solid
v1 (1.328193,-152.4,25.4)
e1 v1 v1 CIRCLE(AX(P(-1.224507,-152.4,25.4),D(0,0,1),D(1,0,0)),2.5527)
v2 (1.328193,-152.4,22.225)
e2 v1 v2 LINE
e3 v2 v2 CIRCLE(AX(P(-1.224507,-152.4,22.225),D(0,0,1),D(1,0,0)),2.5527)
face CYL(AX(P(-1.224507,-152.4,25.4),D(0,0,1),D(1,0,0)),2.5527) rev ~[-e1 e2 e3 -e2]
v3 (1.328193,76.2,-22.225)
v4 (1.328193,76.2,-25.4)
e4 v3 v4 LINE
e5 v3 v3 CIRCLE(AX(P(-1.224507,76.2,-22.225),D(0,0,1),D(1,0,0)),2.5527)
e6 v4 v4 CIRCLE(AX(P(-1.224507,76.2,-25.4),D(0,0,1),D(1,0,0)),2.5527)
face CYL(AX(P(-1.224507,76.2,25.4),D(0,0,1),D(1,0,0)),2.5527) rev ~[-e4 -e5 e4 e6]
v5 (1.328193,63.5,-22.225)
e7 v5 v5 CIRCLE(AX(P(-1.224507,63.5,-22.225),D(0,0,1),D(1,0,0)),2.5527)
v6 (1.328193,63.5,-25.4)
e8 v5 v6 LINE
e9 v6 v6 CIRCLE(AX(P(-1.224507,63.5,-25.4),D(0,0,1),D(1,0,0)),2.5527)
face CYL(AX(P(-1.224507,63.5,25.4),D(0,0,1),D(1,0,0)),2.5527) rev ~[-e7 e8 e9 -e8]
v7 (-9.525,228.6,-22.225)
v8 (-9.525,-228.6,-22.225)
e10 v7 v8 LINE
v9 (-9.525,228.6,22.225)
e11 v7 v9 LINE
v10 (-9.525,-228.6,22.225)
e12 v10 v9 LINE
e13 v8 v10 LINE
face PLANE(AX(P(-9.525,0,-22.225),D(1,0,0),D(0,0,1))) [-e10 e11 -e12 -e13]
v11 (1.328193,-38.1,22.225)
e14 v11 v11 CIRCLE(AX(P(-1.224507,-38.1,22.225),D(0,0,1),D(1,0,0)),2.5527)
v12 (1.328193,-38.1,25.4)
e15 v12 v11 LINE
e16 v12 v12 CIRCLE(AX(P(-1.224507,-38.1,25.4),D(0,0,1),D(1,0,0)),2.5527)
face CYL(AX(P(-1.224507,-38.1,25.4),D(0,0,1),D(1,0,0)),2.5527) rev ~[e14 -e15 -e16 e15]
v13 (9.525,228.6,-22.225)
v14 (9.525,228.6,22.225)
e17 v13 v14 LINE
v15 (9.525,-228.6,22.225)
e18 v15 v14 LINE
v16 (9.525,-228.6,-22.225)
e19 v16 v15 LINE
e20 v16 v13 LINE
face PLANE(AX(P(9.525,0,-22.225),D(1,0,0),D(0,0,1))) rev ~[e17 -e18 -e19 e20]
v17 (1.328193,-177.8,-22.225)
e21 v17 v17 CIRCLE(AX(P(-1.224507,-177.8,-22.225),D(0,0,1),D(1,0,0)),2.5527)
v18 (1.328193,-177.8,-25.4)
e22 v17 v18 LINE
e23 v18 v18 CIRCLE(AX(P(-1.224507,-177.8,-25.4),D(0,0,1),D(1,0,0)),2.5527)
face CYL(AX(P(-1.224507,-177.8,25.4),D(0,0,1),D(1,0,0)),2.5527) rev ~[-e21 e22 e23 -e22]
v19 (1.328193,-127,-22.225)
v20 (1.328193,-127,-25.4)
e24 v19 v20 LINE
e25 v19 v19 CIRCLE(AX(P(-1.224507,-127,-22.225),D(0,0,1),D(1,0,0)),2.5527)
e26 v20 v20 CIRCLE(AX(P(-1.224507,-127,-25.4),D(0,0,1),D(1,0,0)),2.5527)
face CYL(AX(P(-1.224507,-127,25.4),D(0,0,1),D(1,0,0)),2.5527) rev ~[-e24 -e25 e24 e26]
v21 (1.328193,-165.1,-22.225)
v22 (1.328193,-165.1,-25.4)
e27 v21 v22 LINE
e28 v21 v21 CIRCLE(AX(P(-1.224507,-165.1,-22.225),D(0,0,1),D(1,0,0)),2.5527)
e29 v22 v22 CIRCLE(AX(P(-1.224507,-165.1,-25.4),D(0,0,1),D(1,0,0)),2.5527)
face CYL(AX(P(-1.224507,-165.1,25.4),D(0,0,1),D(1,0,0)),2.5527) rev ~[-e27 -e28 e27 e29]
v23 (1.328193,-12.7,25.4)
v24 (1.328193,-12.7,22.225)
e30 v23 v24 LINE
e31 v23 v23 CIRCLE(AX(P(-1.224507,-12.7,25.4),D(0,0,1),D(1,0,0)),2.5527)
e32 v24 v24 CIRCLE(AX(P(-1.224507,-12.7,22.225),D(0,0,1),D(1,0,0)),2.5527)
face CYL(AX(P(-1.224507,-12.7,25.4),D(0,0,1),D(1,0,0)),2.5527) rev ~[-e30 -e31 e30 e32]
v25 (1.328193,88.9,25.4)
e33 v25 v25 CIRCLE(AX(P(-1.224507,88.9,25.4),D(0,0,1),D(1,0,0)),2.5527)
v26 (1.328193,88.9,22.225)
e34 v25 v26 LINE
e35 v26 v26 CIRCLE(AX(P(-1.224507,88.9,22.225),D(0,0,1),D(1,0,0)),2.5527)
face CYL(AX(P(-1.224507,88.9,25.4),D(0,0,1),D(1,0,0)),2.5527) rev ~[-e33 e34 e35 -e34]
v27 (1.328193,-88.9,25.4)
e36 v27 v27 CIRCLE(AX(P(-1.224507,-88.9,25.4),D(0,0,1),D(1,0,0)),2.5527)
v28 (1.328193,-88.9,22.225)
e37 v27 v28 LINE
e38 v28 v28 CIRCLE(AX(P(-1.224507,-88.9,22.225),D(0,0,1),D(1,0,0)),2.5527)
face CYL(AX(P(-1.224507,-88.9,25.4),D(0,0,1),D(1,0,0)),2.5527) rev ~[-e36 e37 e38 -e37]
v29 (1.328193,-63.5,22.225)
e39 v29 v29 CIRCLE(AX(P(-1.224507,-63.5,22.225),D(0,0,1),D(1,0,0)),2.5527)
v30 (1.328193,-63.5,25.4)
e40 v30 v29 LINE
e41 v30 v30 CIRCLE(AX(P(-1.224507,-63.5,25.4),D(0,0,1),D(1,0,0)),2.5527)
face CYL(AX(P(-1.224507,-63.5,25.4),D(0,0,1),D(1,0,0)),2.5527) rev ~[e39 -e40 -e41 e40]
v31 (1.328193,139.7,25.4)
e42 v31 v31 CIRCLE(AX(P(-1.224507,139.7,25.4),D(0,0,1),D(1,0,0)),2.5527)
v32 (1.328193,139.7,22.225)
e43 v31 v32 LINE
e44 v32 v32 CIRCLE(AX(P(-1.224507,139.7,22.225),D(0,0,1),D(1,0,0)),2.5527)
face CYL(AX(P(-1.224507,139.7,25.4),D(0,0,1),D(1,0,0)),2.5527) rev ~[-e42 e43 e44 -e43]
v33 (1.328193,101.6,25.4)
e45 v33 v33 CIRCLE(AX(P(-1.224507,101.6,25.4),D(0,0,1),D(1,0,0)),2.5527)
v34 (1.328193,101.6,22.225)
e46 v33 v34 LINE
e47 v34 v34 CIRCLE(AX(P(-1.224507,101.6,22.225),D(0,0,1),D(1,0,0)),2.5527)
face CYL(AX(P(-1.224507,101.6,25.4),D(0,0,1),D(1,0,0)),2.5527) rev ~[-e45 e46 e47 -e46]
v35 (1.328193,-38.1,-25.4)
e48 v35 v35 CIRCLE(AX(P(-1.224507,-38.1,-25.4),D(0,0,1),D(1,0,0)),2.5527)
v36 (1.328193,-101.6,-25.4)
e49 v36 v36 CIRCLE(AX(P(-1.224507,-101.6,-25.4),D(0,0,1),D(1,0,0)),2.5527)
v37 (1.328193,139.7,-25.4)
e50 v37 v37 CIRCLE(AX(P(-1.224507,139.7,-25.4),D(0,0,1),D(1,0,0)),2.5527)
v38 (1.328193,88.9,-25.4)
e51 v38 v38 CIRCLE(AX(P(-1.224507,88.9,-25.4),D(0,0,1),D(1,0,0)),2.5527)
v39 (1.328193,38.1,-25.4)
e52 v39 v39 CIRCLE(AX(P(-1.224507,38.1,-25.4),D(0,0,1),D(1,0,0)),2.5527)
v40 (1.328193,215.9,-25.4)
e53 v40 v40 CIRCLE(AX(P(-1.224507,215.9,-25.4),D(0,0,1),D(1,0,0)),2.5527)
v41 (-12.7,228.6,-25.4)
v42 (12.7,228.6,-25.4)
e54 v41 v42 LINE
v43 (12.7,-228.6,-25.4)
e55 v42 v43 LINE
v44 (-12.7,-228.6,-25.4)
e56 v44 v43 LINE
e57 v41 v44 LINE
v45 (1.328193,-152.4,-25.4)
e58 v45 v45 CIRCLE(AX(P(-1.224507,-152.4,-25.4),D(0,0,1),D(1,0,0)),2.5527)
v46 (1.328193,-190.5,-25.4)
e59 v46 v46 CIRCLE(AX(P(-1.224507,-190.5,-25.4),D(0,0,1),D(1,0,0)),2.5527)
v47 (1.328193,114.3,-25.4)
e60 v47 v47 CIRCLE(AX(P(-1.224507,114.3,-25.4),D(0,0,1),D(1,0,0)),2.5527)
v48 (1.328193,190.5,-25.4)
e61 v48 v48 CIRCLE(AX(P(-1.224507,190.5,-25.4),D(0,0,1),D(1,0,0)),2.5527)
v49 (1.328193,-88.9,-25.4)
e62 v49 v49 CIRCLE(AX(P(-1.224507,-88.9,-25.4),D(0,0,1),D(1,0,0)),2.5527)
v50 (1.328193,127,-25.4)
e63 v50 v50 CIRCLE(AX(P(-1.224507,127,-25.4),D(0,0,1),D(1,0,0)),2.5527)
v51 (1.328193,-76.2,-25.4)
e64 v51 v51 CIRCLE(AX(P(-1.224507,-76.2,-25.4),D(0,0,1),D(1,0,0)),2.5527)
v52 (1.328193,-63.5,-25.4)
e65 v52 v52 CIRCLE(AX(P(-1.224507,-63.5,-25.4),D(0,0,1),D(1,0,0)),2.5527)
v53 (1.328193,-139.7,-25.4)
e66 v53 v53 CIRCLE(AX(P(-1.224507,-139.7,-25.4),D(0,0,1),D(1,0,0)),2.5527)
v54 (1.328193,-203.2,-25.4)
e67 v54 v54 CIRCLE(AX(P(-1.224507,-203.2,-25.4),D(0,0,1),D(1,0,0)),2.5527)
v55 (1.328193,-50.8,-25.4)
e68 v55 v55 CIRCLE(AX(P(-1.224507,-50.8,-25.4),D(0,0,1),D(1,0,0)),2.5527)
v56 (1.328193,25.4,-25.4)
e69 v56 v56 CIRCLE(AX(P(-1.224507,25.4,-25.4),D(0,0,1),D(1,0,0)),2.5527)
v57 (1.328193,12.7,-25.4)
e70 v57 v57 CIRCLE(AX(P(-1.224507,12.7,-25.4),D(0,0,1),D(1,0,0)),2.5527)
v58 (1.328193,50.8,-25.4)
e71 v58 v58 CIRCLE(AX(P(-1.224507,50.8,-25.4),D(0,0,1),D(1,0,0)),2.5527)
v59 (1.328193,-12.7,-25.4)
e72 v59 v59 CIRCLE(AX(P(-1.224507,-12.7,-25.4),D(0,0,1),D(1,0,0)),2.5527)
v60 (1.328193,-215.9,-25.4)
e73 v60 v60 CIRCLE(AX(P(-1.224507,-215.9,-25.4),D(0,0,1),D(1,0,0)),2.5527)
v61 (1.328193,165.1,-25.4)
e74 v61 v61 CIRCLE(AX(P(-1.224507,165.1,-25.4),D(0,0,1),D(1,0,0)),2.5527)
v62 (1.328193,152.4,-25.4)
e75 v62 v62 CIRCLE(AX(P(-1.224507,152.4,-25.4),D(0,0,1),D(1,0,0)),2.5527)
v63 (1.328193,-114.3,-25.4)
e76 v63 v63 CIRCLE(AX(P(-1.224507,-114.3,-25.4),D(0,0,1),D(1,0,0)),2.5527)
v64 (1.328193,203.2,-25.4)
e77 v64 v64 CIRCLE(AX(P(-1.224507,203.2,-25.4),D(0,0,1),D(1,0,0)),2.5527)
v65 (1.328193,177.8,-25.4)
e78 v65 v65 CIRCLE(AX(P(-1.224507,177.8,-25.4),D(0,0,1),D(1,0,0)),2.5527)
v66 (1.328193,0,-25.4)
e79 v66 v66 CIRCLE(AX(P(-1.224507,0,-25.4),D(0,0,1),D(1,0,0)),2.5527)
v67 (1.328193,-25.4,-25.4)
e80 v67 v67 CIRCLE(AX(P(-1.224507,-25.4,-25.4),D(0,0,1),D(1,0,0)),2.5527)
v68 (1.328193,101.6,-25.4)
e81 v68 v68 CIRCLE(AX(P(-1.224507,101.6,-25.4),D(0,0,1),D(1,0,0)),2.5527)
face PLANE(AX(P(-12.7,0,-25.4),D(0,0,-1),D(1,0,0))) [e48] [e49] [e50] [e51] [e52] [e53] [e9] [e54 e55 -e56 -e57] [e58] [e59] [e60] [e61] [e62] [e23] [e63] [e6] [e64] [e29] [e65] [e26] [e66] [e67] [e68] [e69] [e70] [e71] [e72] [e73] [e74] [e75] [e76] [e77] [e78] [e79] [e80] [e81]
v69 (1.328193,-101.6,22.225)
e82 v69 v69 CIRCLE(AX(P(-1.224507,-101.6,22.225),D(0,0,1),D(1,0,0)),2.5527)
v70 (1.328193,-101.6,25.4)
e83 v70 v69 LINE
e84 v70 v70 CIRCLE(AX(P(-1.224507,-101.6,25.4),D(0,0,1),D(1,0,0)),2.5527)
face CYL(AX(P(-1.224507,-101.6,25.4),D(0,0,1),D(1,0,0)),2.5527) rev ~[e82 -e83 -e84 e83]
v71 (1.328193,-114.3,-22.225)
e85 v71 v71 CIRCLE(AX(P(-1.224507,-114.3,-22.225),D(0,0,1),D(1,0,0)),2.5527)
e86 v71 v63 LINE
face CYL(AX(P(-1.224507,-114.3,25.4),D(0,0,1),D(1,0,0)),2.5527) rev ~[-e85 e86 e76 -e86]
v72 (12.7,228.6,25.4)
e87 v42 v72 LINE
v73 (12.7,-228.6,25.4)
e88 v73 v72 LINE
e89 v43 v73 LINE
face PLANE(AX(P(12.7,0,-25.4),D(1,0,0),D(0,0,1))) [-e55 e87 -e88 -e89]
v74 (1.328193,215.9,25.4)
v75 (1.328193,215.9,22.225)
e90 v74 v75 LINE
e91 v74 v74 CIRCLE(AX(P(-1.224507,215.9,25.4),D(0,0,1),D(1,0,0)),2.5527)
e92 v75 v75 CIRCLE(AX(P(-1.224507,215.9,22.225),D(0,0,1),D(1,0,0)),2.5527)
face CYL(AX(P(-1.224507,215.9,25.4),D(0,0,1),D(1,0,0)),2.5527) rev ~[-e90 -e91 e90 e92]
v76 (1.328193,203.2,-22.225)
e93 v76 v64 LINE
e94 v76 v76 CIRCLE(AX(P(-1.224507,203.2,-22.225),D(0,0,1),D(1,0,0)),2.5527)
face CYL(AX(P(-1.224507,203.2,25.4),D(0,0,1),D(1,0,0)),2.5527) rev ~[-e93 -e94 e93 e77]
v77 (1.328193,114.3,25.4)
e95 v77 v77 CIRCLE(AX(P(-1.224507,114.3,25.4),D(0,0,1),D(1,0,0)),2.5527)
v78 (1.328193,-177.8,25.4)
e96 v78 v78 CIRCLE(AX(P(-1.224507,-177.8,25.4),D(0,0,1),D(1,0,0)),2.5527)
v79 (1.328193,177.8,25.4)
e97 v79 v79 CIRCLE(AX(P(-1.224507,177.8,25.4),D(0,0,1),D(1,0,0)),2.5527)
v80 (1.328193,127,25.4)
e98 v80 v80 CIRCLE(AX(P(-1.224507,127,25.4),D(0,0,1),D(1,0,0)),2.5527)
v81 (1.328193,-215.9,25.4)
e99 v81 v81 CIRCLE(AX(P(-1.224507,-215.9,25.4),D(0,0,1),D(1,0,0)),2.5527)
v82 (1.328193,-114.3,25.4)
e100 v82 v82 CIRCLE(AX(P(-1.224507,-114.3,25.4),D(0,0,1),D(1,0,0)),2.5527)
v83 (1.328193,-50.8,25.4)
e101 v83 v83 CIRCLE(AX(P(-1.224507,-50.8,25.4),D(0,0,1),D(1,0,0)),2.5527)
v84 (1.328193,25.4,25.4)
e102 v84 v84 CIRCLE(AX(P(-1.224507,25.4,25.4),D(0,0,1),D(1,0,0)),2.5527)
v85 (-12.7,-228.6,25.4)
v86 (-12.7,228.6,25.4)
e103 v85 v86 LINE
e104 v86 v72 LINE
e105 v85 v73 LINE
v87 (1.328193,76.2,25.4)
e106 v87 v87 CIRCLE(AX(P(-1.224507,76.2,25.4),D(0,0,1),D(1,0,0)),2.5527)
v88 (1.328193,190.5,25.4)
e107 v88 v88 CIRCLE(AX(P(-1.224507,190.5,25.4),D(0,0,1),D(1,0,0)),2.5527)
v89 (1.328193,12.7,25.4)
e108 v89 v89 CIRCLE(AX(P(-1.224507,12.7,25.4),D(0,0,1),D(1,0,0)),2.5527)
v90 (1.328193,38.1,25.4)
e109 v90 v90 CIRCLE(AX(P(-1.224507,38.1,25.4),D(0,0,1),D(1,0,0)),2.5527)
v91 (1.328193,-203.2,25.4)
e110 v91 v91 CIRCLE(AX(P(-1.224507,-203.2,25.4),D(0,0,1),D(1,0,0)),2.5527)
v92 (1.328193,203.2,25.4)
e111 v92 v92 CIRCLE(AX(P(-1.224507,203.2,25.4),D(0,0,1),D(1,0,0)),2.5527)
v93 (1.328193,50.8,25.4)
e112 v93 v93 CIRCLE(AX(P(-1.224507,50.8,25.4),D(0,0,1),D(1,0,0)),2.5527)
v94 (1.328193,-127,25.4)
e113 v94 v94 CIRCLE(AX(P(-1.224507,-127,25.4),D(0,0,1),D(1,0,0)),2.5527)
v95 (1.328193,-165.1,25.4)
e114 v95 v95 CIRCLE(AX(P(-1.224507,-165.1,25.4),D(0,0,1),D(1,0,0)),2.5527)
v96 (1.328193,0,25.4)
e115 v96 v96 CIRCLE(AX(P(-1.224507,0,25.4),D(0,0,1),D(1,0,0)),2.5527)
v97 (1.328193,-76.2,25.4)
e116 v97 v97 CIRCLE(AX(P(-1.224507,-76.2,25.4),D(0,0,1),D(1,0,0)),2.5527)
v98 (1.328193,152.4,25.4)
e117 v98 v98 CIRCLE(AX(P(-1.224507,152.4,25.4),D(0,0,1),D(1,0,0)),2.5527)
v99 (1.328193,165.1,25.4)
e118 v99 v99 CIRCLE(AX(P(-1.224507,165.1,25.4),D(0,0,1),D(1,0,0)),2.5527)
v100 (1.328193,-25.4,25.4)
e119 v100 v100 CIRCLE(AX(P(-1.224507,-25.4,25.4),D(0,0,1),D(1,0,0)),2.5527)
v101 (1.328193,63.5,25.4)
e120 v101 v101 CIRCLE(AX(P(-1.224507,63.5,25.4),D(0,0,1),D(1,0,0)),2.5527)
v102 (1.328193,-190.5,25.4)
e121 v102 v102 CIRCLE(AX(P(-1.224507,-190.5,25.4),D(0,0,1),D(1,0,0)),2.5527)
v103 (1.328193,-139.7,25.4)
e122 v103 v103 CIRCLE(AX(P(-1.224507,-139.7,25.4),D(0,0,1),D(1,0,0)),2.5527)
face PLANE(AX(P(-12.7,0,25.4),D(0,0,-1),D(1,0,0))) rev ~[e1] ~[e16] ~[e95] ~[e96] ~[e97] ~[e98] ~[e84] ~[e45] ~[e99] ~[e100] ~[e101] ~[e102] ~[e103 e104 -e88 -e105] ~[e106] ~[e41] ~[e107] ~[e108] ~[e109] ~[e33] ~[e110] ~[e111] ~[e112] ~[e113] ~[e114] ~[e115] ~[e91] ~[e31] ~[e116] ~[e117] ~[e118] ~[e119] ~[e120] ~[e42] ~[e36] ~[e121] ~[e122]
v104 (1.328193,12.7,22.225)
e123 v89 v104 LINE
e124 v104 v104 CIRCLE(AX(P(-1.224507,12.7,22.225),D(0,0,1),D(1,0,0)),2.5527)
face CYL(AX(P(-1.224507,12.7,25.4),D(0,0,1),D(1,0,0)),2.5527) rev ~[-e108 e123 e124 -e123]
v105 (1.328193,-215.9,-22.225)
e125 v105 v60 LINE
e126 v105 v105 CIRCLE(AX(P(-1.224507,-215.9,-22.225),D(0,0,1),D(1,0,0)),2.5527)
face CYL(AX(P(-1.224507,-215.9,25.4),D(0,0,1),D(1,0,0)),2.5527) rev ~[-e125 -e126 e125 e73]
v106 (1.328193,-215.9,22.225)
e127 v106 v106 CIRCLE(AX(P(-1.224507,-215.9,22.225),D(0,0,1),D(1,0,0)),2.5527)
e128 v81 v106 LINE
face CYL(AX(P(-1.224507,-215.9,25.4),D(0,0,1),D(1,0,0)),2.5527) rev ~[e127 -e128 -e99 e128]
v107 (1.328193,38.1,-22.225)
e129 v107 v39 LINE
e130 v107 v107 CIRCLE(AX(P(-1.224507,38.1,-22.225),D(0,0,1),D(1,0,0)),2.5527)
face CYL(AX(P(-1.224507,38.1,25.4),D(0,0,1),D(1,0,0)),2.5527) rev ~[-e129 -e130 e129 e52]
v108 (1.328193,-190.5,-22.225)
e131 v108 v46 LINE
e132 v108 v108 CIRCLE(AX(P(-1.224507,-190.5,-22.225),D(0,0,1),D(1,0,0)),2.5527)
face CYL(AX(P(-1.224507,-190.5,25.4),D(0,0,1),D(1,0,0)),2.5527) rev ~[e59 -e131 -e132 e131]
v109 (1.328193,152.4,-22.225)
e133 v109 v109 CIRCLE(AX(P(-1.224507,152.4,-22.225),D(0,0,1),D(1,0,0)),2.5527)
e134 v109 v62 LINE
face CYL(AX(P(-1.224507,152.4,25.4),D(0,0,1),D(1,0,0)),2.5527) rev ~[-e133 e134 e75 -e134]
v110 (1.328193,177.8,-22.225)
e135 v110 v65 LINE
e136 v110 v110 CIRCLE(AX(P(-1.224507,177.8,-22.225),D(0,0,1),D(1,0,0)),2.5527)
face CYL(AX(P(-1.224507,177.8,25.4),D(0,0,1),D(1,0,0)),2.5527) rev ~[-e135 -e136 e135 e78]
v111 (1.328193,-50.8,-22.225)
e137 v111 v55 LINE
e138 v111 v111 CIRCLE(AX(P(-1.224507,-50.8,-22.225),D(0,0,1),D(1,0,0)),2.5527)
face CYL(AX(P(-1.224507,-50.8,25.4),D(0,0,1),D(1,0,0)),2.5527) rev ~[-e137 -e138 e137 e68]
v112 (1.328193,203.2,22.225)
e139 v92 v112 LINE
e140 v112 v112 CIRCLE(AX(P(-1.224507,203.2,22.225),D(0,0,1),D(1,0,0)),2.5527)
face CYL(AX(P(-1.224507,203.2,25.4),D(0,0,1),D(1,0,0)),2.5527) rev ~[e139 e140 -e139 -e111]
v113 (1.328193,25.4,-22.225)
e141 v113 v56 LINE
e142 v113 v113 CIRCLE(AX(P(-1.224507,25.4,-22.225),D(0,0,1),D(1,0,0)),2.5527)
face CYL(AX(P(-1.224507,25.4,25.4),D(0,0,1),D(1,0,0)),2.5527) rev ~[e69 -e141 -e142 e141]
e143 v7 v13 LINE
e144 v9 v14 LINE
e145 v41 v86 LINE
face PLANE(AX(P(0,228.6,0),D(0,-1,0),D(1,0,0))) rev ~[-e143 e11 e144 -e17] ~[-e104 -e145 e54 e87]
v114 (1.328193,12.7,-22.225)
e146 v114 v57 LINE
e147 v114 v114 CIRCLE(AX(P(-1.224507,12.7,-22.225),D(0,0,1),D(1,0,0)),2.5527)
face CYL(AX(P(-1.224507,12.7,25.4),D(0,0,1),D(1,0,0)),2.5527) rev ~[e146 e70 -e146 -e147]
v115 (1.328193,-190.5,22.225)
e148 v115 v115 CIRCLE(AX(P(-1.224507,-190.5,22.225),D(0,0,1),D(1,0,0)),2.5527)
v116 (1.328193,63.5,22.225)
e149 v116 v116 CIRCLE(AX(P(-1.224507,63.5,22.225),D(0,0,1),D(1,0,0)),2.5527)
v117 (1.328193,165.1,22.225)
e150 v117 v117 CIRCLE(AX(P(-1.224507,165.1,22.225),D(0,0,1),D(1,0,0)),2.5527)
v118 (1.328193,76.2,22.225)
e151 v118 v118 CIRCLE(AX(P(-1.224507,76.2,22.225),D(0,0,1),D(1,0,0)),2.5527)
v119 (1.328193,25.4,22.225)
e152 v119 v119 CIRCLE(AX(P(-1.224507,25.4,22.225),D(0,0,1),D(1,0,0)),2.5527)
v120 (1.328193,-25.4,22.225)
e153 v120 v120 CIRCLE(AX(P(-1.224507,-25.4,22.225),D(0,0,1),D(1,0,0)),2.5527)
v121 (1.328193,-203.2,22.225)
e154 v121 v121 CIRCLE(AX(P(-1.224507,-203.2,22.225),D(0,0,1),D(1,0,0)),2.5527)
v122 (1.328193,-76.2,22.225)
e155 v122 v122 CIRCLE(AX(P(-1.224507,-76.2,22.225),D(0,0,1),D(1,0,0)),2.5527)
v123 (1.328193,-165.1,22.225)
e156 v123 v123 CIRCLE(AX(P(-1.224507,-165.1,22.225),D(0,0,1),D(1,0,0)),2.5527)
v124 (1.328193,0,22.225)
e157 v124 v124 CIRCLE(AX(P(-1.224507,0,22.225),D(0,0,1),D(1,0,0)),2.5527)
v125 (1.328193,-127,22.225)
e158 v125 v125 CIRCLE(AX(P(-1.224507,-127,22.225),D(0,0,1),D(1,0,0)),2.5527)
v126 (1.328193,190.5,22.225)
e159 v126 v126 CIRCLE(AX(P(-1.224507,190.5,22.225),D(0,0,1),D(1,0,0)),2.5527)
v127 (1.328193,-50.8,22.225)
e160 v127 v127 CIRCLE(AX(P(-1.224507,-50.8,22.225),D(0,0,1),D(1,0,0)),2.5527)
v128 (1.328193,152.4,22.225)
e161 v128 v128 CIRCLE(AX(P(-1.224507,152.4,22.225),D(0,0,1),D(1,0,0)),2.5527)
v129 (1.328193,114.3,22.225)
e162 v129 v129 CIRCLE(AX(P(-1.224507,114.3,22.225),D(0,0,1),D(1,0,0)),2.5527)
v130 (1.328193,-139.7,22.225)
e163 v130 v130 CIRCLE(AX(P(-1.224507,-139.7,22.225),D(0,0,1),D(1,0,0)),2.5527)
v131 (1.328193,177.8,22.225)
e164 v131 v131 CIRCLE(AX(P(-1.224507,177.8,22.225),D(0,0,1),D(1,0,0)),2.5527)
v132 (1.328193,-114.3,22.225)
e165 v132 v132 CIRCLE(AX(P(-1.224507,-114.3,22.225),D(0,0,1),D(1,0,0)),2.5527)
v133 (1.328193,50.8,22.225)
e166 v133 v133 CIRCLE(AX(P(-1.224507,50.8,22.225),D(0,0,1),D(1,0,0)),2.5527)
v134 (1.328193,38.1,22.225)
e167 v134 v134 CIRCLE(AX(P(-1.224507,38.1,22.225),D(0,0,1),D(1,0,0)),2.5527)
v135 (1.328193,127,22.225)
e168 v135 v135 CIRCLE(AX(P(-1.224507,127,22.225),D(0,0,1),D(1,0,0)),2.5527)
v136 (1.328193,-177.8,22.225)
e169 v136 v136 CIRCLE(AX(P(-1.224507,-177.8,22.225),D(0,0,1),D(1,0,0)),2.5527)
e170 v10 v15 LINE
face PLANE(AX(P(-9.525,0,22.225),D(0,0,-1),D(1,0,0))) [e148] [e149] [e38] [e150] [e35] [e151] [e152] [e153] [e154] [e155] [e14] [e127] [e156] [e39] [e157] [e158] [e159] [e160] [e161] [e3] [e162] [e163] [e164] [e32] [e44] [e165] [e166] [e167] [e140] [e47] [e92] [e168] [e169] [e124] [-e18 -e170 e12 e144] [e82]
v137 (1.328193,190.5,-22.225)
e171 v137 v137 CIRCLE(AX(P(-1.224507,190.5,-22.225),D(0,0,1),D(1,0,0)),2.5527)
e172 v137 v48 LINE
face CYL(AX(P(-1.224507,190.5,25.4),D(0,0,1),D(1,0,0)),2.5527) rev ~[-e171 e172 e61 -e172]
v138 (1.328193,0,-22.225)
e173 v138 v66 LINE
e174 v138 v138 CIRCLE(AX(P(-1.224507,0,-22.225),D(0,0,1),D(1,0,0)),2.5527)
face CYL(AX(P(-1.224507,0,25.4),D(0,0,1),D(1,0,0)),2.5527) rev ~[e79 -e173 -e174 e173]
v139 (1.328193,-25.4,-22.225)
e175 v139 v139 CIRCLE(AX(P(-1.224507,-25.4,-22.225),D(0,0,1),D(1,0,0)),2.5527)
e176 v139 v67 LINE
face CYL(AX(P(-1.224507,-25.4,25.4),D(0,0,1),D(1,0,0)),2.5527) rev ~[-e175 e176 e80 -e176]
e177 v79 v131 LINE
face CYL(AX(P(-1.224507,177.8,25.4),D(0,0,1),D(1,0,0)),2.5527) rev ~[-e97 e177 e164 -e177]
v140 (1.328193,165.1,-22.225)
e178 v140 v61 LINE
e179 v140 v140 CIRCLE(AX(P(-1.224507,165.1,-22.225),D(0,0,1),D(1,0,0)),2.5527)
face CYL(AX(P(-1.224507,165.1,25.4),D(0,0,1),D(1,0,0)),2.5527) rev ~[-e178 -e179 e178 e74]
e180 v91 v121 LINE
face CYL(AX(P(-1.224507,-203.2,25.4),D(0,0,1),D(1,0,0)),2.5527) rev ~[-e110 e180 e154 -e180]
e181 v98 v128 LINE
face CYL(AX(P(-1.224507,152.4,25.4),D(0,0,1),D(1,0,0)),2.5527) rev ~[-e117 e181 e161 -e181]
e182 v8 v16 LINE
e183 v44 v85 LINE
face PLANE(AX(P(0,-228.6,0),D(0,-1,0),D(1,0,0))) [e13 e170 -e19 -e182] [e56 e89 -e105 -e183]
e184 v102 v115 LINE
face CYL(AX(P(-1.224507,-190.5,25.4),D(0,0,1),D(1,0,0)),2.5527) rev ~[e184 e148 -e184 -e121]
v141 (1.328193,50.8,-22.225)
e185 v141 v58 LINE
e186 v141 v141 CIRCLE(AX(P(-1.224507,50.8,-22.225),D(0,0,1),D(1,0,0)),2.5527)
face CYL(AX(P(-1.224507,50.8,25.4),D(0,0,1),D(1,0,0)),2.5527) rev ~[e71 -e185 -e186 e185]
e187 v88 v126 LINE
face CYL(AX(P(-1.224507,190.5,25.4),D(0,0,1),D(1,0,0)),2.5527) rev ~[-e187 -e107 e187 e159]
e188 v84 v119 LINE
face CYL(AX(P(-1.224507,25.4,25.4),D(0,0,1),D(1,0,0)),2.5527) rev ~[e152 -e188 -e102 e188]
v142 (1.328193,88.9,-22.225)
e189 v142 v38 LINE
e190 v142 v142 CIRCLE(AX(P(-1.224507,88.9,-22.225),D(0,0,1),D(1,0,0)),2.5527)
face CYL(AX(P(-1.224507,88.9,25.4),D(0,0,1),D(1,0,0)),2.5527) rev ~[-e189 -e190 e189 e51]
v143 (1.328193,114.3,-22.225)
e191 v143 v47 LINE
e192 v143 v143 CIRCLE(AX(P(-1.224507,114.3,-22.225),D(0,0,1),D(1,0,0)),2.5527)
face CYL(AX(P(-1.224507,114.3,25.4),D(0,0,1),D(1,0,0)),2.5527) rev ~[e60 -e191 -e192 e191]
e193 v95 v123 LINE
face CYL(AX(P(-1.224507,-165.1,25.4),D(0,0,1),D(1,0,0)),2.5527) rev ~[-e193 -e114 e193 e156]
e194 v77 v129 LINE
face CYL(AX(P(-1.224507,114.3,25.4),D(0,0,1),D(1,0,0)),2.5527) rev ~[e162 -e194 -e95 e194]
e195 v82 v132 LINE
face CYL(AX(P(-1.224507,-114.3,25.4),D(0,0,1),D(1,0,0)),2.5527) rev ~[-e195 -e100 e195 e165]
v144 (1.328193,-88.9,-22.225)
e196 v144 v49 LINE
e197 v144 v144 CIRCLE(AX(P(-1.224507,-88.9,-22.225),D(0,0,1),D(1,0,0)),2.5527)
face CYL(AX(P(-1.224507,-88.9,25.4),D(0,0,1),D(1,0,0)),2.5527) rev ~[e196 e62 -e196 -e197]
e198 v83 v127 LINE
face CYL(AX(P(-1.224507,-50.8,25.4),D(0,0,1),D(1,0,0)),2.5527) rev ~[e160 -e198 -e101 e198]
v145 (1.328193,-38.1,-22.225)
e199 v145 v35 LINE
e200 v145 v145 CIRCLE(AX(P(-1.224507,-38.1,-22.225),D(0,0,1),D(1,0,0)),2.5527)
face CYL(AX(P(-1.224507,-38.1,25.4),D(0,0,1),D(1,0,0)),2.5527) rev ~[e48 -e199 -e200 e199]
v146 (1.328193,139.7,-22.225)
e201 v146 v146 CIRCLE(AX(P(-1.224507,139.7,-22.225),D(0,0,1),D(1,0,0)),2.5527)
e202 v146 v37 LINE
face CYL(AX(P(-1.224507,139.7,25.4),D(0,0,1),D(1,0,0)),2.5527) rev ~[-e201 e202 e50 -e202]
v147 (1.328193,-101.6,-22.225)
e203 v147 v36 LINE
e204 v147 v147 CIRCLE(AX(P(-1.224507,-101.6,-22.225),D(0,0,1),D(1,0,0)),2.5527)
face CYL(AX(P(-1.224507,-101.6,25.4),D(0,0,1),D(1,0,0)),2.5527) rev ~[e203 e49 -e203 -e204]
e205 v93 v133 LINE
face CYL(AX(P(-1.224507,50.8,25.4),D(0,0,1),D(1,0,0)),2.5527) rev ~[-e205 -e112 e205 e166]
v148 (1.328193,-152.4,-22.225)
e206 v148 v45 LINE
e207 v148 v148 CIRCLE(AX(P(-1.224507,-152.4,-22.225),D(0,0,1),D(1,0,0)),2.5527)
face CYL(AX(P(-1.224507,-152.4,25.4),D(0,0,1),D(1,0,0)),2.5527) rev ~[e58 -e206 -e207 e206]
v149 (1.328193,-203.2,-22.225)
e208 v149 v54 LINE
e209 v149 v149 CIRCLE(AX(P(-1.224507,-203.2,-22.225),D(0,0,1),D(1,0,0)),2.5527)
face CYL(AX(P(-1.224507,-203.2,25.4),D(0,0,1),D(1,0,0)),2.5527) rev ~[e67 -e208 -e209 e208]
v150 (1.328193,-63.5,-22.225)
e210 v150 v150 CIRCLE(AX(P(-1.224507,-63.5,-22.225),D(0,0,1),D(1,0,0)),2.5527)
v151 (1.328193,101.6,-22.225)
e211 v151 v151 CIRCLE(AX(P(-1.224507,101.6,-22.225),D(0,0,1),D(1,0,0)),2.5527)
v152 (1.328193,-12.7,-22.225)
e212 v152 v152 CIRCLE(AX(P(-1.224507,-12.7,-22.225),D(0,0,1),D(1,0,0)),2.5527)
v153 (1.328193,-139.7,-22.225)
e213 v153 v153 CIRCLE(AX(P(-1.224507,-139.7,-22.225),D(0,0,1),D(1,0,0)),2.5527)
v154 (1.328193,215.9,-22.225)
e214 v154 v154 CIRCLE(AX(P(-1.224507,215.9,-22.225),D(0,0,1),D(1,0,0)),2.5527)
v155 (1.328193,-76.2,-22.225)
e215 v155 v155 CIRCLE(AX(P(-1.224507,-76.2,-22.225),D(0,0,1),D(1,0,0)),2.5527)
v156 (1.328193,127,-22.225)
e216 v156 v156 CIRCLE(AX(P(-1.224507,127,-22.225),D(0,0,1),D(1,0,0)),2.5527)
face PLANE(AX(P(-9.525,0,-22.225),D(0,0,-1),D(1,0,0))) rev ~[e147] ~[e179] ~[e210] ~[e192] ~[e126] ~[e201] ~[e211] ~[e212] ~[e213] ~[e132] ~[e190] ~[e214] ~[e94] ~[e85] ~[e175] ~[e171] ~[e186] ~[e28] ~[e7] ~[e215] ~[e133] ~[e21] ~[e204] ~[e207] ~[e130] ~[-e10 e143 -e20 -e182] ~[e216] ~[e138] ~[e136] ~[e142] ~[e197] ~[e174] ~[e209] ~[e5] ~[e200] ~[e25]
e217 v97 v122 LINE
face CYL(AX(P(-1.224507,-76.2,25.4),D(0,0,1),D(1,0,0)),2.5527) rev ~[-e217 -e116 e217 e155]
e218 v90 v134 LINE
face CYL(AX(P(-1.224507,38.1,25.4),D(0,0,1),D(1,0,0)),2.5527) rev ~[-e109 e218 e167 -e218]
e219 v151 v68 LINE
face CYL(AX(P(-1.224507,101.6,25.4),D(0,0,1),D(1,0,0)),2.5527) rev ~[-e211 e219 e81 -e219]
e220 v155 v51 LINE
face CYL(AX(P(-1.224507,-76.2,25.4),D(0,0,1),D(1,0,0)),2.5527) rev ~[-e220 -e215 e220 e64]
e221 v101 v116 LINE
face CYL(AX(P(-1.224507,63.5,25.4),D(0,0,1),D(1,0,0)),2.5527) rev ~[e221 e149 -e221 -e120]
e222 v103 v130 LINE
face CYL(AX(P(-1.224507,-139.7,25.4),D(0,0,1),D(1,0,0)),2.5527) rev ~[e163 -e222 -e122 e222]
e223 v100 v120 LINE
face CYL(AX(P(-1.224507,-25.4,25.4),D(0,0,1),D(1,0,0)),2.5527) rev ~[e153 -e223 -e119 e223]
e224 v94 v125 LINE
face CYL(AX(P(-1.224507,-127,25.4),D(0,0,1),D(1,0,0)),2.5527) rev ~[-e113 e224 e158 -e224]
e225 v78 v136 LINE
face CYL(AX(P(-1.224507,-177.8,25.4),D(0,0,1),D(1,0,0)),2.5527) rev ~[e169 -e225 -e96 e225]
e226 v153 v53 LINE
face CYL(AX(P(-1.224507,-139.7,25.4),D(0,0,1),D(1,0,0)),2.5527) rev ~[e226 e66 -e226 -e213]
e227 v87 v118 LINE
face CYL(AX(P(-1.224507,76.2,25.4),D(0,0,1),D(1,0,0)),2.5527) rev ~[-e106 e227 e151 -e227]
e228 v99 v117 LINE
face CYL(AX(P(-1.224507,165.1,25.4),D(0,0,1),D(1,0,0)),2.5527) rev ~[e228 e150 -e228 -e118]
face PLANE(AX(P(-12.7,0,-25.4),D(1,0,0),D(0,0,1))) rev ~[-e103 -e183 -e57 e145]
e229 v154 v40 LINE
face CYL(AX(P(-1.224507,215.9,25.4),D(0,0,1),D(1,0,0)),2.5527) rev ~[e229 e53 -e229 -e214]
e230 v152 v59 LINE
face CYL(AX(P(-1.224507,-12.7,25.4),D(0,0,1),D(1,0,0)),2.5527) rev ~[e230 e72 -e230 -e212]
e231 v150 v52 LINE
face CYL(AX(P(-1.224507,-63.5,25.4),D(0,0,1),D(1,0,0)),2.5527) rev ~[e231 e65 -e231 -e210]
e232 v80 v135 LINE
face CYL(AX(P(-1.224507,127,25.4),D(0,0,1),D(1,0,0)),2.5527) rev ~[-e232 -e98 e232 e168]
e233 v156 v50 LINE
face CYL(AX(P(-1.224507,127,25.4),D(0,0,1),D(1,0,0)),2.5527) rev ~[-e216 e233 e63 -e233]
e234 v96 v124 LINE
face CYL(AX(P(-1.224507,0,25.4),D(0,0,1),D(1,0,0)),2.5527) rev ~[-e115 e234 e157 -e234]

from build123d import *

# Parameters (mm, degrees)
F0_W     = 25.4
F0_H     = 50.8
F0_W_2   = 19.05
F0_H_2   = 44.45
F1_DEPTH = 228.6
F2_W     = 25.4
F2_H     = 457.2
F2_R     = 2.5527
F3_DEPTH = 50.801


with BuildPart() as f1:
    # F0 (on Front) → F1 (new body, symmetric)
    with BuildSketch(Plane.XZ):
        Rectangle(F0_W, F0_H)
        Rectangle(F0_W_2, F0_H_2, mode=Mode.SUBTRACT)
    extrude(amount=F1_DEPTH, both=True)

    # F2 (on face) → F3 (intersect, through all)
    with BuildSketch(Plane.XY.offset(25.4)):
        Rectangle(F2_W, F2_H)
        with Locations((-1.224507, -215.9)):
            Circle(F2_R, mode=Mode.SUBTRACT)
        with Locations((-1.224507, -203.2)):
            Circle(F2_R, mode=Mode.SUBTRACT)
        with Locations((-1.224507, -190.5)):
            Circle(F2_R, mode=Mode.SUBTRACT)
        with Locations((-1.224507, -177.8)):
            Circle(F2_R, mode=Mode.SUBTRACT)
        with Locations((-1.224507, -165.1)):
            Circle(F2_R, mode=Mode.SUBTRACT)
        with Locations((-1.224507, -152.4)):
            Circle(F2_R, mode=Mode.SUBTRACT)
        with Locations((-1.224507, -139.7)):
            Circle(F2_R, mode=Mode.SUBTRACT)
        with Locations((-1.224507, -127)):
            Circle(F2_R, mode=Mode.SUBTRACT)
        with Locations((-1.224507, -114.3)):
            Circle(F2_R, mode=Mode.SUBTRACT)
        with Locations((-1.224507, -101.6)):
            Circle(F2_R, mode=Mode.SUBTRACT)
        with Locations((-1.224507, -88.9)):
            Circle(F2_R, mode=Mode.SUBTRACT)
        with Locations((-1.224507, -76.2)):
            Circle(F2_R, mode=Mode.SUBTRACT)
        with Locations((-1.224507, -63.5)):
            Circle(F2_R, mode=Mode.SUBTRACT)
        with Locations((-1.224507, -50.8)):
            Circle(F2_R, mode=Mode.SUBTRACT)
        with Locations((-1.224507, -38.1)):
            Circle(F2_R, mode=Mode.SUBTRACT)
        with Locations((-1.224507, -25.4)):
            Circle(F2_R, mode=Mode.SUBTRACT)
        with Locations((-1.224507, -12.7)):
            Circle(F2_R, mode=Mode.SUBTRACT)
        with Locations((-1.224507, 0)):
            Circle(F2_R, mode=Mode.SUBTRACT)
        with Locations((-1.224507, 12.7)):
            Circle(F2_R, mode=Mode.SUBTRACT)
        with Locations((-1.224507, 25.4)):
            Circle(F2_R, mode=Mode.SUBTRACT)
        with Locations((-1.224507, 38.1)):
            Circle(F2_R, mode=Mode.SUBTRACT)
        with Locations((-1.224507, 50.8)):
            Circle(F2_R, mode=Mode.SUBTRACT)
        with Locations((-1.224507, 63.5)):
            Circle(F2_R, mode=Mode.SUBTRACT)
        with Locations((-1.224507, 76.2)):
            Circle(F2_R, mode=Mode.SUBTRACT)
        with Locations((-1.224507, 88.9)):
            Circle(F2_R, mode=Mode.SUBTRACT)
        with Locations((-1.224507, 101.6)):
            Circle(F2_R, mode=Mode.SUBTRACT)
        with Locations((-1.224507, 114.3)):
            Circle(F2_R, mode=Mode.SUBTRACT)
        with Locations((-1.224507, 127)):
            Circle(F2_R, mode=Mode.SUBTRACT)
        with Locations((-1.224507, 139.7)):
            Circle(F2_R, mode=Mode.SUBTRACT)
        with Locations((-1.224507, 152.4)):
            Circle(F2_R, mode=Mode.SUBTRACT)
        with Locations((-1.224507, 165.1)):
            Circle(F2_R, mode=Mode.SUBTRACT)
        with Locations((-1.224507, 177.8)):
            Circle(F2_R, mode=Mode.SUBTRACT)
        with Locations((-1.224507, 190.5)):
            Circle(F2_R, mode=Mode.SUBTRACT)
        with Locations((-1.224507, 203.2)):
            Circle(F2_R, mode=Mode.SUBTRACT)
        with Locations((-1.224507, 215.9)):
            Circle(F2_R, mode=Mode.SUBTRACT)
    extrude(amount=-F3_DEPTH, mode=Mode.INTERSECT)


solid = f1.part
